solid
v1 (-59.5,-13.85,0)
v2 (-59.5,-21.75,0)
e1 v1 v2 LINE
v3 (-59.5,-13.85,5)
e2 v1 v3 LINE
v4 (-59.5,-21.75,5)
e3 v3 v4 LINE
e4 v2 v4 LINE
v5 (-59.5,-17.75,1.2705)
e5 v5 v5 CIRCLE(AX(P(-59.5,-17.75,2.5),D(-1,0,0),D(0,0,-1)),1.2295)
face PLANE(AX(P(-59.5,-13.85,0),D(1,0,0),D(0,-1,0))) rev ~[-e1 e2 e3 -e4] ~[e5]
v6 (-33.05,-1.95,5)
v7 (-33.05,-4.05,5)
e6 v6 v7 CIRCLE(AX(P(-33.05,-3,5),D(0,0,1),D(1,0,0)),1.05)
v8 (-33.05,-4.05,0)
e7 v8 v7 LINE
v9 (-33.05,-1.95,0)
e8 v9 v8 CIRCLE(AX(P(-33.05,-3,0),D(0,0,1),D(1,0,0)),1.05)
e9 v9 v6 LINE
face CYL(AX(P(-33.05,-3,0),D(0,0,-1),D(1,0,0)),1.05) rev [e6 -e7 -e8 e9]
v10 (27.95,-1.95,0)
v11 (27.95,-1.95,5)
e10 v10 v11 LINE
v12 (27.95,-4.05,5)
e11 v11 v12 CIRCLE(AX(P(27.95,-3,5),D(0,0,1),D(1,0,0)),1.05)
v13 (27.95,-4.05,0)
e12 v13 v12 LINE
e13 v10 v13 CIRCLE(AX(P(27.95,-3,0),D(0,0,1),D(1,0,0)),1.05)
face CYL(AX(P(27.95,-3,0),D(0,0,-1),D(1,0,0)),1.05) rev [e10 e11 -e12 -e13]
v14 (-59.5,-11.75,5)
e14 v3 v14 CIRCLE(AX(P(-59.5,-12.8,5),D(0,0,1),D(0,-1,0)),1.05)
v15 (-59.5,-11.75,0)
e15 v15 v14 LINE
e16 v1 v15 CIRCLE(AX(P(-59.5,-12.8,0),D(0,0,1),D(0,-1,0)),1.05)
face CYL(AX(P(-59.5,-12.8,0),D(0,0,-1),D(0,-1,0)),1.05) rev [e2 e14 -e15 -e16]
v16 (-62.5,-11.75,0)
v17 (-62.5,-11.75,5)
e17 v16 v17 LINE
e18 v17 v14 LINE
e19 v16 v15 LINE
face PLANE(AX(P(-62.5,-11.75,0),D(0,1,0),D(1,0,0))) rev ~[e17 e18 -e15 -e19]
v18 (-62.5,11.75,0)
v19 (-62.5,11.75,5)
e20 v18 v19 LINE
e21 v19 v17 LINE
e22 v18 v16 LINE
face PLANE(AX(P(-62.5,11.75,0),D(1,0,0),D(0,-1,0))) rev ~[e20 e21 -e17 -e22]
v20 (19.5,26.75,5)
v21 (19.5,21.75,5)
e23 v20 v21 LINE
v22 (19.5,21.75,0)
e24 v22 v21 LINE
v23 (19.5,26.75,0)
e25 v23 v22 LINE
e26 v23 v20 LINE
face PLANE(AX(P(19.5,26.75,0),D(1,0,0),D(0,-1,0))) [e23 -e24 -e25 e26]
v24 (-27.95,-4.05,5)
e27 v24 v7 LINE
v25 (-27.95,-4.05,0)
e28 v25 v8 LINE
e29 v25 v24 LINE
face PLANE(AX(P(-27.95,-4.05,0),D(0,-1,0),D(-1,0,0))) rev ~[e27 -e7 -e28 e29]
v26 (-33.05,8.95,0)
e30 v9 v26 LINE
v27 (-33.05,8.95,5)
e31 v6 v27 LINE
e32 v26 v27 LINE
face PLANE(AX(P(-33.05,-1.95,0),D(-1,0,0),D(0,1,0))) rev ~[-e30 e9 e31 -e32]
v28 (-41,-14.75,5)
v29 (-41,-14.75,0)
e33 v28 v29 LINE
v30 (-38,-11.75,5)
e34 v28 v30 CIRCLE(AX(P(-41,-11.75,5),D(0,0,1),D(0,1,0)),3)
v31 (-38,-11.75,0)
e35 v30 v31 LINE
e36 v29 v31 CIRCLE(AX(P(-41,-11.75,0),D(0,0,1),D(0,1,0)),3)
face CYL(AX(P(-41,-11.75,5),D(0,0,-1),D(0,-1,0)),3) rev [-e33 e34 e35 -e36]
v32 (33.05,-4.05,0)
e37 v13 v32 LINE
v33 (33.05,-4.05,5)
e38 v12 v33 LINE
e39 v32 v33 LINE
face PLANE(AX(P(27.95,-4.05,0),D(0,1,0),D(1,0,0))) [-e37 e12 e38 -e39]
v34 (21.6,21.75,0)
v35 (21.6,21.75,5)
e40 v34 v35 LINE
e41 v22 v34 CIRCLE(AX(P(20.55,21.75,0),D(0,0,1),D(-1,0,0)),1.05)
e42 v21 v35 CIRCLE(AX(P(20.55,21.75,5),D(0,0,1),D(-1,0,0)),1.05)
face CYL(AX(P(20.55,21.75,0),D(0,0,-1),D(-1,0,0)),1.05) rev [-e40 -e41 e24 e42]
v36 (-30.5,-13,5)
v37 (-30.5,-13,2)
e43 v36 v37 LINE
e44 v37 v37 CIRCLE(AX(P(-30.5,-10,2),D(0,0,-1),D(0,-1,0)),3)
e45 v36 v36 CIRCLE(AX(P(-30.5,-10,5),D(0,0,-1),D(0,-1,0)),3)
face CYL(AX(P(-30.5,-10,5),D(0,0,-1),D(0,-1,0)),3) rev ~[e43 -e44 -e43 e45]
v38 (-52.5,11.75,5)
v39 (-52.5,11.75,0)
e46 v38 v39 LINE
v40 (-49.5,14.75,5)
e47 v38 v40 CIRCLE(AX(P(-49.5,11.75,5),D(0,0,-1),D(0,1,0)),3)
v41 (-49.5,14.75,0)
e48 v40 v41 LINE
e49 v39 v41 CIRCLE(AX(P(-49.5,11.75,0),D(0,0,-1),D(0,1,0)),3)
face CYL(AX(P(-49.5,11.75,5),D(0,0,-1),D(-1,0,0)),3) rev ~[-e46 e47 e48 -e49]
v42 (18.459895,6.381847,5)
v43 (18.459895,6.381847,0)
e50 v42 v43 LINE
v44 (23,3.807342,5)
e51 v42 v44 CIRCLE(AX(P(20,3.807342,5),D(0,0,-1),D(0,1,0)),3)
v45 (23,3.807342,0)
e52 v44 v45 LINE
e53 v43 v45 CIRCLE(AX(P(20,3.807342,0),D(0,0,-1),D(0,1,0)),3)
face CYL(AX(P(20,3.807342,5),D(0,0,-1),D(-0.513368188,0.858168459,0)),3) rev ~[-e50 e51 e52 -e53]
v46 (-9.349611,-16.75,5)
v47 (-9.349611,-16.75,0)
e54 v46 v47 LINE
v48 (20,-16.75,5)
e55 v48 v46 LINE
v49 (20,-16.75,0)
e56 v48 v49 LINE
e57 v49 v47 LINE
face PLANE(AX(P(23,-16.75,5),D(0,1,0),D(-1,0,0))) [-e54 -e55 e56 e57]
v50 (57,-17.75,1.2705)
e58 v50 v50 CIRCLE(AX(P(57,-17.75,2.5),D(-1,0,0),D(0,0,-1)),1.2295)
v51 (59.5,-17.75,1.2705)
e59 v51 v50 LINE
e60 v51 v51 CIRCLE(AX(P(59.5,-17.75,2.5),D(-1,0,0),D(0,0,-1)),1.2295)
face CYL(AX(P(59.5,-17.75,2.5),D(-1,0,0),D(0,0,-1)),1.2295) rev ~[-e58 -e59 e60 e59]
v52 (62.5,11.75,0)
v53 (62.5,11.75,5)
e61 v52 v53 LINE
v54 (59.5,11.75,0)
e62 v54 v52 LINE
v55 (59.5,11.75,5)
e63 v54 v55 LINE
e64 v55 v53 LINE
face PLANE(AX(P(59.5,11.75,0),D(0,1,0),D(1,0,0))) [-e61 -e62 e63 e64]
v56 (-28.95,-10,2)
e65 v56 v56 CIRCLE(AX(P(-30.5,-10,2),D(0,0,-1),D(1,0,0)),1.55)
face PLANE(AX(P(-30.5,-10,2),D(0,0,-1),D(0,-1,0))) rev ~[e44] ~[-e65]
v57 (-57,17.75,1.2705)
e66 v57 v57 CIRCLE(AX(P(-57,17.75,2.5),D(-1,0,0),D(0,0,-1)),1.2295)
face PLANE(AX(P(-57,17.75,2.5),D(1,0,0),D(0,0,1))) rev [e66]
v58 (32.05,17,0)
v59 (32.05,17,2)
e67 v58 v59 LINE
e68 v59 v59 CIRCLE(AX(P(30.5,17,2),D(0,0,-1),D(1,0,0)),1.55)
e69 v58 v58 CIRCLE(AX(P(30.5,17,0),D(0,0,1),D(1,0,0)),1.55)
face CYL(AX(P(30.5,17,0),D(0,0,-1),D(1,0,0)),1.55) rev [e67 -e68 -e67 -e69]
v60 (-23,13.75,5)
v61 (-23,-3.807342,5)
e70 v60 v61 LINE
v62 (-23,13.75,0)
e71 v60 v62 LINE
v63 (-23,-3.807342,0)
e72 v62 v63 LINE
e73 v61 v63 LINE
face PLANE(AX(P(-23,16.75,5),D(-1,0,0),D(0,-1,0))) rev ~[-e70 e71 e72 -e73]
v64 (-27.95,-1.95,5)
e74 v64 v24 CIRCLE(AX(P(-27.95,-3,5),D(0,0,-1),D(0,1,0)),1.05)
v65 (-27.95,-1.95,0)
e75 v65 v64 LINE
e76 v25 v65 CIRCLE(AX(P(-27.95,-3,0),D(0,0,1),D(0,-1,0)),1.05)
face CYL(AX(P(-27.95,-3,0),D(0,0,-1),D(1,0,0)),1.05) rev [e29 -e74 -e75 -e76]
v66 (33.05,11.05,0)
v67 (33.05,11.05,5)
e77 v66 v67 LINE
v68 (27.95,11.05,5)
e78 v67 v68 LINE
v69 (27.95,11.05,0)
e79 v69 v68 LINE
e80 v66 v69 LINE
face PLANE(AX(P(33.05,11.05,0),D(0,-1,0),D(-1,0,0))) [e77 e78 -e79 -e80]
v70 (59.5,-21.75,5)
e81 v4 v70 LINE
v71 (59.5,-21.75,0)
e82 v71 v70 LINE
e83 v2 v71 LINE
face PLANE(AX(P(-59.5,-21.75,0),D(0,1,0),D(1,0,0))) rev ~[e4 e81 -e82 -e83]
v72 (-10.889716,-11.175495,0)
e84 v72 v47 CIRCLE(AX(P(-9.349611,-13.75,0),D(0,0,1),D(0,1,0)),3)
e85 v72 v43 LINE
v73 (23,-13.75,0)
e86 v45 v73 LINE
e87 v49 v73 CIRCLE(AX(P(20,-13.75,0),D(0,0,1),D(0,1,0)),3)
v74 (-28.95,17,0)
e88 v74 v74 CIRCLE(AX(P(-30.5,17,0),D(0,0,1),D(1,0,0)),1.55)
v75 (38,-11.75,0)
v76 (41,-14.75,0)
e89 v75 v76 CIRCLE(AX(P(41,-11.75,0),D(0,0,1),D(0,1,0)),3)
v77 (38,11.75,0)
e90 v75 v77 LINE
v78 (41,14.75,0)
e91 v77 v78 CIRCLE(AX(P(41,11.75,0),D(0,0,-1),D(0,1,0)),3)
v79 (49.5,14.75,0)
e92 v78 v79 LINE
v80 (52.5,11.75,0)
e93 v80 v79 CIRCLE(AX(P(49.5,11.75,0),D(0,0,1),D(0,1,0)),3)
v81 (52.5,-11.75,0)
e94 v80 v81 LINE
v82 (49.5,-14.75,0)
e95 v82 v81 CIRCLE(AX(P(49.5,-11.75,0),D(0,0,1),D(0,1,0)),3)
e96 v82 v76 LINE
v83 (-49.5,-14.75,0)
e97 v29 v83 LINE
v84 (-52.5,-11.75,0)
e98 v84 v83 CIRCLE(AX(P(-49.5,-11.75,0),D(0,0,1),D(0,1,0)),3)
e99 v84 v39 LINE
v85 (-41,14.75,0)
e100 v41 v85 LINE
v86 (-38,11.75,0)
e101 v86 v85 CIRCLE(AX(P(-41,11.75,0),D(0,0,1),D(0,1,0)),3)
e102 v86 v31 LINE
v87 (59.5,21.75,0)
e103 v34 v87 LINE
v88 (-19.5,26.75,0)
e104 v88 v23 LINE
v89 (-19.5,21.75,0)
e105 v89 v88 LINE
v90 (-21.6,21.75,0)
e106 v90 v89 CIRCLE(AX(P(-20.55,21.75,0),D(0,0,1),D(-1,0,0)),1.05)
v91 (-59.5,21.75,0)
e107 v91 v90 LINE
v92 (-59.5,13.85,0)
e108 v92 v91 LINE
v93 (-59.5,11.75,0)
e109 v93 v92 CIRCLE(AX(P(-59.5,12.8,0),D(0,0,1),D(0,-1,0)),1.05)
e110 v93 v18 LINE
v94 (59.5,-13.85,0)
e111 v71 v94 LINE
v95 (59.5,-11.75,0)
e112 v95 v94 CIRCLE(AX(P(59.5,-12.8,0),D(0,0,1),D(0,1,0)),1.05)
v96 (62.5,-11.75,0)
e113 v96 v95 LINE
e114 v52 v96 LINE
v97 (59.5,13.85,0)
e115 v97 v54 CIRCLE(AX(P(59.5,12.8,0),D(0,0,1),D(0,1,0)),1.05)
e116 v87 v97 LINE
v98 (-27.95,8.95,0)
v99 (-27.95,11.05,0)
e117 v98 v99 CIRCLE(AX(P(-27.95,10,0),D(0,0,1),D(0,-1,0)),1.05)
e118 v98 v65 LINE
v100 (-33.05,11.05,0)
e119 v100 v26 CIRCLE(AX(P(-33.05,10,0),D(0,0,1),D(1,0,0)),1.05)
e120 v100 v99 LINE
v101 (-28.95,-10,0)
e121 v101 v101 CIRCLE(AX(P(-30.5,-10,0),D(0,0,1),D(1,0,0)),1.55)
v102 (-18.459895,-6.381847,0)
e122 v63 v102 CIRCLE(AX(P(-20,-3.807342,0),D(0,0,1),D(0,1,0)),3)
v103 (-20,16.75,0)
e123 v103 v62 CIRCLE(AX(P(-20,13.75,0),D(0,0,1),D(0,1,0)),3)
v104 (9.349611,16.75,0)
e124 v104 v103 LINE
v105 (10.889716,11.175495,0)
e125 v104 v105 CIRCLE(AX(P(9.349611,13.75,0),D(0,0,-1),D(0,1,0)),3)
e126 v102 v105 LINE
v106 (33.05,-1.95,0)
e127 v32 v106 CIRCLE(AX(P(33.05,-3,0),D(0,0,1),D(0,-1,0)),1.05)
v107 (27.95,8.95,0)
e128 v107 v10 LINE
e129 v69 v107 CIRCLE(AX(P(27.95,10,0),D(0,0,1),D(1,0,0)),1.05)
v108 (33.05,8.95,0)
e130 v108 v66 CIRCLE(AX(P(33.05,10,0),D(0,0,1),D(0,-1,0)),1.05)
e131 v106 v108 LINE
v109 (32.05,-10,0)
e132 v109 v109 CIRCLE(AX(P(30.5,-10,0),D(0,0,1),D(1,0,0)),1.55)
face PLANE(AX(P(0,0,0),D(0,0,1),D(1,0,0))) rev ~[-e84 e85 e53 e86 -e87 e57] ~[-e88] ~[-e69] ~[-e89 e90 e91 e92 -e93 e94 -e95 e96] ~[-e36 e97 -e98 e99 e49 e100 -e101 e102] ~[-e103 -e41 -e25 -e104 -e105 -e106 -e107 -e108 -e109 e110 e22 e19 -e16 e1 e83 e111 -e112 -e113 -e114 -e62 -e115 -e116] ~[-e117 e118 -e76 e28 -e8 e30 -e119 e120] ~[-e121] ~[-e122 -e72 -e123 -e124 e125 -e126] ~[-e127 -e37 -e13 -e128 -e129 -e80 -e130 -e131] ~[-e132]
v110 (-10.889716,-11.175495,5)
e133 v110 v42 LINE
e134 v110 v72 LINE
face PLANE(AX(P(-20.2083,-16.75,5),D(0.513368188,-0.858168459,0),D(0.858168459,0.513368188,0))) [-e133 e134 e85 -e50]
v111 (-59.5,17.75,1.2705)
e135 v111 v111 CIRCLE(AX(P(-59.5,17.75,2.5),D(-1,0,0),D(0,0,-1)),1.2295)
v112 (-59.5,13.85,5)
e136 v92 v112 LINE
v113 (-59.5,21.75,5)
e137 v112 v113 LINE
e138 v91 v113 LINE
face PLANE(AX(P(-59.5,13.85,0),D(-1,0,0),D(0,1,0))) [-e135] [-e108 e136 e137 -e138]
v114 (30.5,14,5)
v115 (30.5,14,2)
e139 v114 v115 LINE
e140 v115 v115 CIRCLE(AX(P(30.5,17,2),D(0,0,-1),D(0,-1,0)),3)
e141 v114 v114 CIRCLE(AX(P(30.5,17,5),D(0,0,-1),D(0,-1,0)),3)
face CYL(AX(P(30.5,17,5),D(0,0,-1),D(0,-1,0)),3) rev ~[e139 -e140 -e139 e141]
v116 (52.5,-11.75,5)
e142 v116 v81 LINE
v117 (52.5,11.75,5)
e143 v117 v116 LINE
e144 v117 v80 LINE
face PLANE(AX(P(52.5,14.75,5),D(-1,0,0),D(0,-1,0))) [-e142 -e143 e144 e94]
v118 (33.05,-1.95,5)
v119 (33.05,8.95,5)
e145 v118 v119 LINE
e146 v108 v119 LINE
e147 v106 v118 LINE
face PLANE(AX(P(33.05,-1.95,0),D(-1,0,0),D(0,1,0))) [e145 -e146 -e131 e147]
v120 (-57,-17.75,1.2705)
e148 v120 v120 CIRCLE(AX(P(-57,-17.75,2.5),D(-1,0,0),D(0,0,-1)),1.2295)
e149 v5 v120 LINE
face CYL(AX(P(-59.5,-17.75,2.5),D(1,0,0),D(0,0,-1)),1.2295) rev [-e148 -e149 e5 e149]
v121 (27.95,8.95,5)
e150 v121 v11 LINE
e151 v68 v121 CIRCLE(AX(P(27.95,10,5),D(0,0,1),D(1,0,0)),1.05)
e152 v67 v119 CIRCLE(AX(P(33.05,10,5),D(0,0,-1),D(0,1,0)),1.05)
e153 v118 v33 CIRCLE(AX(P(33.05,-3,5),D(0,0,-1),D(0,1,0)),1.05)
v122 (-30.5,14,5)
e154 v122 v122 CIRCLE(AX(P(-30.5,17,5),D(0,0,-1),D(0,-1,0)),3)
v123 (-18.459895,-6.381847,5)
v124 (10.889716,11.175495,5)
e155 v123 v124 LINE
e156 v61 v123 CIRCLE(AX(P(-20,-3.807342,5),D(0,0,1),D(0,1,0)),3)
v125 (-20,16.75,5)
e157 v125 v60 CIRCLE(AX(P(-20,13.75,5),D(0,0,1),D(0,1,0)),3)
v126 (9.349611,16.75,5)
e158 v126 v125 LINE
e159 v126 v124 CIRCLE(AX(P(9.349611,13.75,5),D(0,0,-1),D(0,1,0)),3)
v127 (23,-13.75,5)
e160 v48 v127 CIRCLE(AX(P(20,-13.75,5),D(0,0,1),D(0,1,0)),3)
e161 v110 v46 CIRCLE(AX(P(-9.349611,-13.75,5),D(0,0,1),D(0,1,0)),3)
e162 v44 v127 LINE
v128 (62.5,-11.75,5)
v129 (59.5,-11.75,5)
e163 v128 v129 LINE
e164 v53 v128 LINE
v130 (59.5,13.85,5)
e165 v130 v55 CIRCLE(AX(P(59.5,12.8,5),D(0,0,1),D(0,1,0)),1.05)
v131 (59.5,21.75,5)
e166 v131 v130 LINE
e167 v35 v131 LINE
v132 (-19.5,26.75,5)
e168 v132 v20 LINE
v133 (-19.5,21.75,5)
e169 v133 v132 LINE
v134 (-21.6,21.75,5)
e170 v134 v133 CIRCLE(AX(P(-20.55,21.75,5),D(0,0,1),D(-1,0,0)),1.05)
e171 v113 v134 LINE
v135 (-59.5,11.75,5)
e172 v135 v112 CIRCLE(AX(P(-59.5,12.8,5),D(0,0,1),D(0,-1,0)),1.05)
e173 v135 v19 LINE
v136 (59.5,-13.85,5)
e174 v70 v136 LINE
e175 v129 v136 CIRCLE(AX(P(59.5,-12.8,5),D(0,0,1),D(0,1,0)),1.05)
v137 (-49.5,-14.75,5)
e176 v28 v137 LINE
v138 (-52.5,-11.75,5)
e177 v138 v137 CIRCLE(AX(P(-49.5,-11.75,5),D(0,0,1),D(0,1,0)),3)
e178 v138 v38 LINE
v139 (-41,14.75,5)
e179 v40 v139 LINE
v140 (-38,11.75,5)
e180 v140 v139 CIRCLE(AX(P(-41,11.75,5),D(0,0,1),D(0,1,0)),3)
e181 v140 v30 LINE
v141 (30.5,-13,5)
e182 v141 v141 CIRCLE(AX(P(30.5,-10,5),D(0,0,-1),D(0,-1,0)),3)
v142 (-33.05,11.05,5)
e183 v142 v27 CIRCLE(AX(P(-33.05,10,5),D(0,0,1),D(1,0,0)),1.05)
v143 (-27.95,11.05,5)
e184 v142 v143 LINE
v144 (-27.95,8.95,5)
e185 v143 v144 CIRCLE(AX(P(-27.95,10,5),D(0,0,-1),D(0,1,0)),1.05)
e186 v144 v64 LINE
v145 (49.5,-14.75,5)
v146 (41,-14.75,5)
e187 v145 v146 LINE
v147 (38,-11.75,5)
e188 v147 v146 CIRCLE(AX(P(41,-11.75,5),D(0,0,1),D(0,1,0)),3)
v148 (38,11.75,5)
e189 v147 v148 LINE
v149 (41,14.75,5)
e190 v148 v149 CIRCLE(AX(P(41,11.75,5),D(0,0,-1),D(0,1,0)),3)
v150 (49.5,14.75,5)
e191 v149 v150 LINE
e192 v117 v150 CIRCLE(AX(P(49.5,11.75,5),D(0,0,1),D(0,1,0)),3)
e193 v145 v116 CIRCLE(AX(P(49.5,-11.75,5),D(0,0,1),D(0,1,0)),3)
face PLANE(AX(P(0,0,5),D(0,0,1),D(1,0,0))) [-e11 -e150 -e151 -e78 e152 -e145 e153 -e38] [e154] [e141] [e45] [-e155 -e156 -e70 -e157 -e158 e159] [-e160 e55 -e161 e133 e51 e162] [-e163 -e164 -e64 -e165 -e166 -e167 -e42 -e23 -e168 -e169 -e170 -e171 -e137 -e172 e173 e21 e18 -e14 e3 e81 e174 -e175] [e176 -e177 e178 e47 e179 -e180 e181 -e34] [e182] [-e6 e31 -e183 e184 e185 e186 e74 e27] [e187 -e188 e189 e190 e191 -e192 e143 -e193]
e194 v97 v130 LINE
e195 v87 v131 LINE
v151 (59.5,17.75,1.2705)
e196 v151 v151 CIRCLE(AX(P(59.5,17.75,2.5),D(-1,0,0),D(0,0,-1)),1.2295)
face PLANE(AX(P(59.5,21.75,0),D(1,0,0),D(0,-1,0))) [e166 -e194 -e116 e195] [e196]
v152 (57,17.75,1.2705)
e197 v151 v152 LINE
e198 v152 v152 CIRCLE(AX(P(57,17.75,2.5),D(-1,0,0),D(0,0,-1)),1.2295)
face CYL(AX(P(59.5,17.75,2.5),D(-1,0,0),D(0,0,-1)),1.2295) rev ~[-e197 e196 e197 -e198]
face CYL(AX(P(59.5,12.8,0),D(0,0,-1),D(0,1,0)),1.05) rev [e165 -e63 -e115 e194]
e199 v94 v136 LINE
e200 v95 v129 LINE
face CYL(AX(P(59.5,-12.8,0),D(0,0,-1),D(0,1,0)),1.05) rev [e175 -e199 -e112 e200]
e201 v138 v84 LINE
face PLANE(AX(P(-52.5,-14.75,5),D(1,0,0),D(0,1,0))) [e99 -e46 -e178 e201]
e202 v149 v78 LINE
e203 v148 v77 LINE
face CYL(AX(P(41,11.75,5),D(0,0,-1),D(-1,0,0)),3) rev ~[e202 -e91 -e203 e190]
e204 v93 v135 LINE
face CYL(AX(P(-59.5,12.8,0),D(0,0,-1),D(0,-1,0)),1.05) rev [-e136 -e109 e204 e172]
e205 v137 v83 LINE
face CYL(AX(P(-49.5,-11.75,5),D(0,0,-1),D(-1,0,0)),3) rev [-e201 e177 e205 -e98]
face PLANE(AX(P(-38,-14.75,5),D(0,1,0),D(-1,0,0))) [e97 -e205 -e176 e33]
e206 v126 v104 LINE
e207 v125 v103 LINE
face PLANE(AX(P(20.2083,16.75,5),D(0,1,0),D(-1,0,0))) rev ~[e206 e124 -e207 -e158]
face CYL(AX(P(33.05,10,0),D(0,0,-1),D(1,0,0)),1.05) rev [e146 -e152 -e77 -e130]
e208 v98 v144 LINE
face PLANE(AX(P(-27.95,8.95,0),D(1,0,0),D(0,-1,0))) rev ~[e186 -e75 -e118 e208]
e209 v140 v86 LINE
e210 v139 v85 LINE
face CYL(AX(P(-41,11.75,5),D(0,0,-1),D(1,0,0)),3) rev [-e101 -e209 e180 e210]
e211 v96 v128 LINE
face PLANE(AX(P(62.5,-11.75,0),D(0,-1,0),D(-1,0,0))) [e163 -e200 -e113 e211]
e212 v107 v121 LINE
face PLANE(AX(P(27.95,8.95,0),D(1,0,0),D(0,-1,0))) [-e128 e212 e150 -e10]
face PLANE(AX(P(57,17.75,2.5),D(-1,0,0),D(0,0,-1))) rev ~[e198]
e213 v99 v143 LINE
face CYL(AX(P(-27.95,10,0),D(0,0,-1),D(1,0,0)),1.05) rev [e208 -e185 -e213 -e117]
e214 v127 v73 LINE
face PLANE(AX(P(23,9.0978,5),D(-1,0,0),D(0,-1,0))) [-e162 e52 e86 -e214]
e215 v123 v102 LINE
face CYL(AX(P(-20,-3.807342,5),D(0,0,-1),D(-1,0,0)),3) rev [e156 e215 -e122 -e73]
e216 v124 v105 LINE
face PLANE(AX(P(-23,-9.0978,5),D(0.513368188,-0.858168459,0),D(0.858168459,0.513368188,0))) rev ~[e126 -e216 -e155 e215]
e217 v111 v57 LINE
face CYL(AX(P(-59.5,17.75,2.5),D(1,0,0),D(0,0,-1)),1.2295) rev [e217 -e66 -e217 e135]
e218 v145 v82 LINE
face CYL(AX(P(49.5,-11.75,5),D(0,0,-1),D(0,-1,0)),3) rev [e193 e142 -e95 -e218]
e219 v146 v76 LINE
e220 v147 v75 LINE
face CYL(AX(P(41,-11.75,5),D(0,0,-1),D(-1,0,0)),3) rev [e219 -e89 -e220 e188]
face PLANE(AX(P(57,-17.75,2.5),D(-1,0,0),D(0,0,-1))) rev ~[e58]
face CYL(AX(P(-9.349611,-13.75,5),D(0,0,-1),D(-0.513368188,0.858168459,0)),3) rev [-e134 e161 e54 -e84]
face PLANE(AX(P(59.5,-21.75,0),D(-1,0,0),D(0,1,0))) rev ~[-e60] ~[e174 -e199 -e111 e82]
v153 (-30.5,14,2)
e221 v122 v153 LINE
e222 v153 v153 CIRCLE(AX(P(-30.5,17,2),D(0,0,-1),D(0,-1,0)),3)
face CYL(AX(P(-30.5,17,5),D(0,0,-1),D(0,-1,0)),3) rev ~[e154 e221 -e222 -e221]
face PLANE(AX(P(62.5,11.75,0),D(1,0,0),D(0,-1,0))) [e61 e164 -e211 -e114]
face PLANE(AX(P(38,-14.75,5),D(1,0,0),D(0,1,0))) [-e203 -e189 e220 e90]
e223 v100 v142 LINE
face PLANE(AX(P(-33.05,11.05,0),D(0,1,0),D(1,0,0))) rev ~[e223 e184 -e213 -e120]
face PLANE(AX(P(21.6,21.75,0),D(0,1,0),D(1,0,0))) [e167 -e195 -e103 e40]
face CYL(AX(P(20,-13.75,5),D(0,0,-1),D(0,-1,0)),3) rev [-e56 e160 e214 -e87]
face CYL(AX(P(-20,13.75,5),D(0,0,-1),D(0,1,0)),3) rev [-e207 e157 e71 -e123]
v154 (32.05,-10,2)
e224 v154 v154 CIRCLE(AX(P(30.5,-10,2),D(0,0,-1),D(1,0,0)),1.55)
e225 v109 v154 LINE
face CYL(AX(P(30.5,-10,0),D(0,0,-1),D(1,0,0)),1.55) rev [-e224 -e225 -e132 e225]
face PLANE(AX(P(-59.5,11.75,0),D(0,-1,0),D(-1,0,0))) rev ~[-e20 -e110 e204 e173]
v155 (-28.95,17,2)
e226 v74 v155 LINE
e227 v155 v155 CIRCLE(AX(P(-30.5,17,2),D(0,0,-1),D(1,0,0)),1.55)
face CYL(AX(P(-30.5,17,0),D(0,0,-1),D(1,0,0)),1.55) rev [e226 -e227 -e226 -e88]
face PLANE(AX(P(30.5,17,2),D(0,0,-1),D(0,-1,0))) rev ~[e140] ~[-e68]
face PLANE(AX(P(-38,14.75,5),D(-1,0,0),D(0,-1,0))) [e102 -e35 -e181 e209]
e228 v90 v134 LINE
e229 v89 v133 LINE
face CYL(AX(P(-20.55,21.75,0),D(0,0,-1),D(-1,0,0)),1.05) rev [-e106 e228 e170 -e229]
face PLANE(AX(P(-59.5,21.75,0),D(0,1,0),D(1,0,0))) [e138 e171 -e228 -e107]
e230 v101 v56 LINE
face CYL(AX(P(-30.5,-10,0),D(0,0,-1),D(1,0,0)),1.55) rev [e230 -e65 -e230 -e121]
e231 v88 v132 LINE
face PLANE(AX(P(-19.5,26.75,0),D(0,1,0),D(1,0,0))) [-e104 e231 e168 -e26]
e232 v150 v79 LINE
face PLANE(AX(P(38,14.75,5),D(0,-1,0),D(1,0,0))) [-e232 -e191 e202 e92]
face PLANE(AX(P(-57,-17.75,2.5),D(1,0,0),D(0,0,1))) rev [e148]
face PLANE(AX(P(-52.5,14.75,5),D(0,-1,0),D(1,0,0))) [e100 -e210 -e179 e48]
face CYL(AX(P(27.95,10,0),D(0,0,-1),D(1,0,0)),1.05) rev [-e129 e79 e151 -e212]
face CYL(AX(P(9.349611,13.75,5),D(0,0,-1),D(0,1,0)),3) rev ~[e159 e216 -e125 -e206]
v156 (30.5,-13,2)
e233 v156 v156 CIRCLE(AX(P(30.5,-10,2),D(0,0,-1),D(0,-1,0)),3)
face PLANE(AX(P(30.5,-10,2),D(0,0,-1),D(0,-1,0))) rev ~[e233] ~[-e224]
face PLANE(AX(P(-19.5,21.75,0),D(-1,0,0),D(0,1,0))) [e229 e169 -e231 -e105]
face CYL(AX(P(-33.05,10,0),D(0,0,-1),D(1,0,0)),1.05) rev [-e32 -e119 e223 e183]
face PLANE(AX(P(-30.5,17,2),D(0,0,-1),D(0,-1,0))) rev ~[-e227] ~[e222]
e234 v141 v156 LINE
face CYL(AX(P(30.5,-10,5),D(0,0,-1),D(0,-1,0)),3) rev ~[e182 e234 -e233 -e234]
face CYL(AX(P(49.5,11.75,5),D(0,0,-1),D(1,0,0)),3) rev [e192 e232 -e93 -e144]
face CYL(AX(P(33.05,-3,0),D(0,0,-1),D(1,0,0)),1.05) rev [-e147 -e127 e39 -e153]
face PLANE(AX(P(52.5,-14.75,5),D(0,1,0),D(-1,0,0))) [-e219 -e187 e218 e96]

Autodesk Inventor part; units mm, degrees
ref_plane "YZ Plane" through (0, 0, 0) normal (1, 0, 0) x (0, 1, 0)
ref_plane "XZ Plane" through (0, 0, 0) normal (0, 1, 0) x (-1, 0, 0)
ref_plane "XY Plane" through (0, 0, 0) normal (0, 0, 1) x (1, 0, 0)
sketch "スケッチ1" plane through (0, 0, 0) normal (0, 0, 1) x (1, 0, 0)
  line L0 (-59.5, -21.75) -> (59.5, -21.75) construction
  line L1 (59.5, -21.75) -> (59.5, 21.75) construction
  line L2 (59.5, 21.75) -> (-59.5, 21.75) construction
  line L3 (-59.5, 21.75) -> (-59.5, -21.75) construction
  line L4 (-59.5, -21.75) -> (59.5, 21.75) construction
  line L5 (59.5, -21.75) -> (-59.5, 21.75) construction
  line L6 (-54.5, -16.75) -> (54.5, -16.75) construction
  line L7 (54.5, -16.75) -> (54.5, 16.75) construction
  line L8 (54.5, 16.75) -> (-54.5, 16.75) construction
  line L9 (-54.5, 16.75) -> (-54.5, -16.75) construction
  line L10 (-54.5, -16.75) -> (54.5, 16.75) construction
  line L11 (54.5, -16.75) -> (-54.5, 16.75) construction
  line L12 (-33.05, 11.05) -> (-27.95, 11.05)
  line L13 (-27.95, 11.05) -> (-27.95, -4.05)
  line L14 (-27.95, -4.05) -> (-33.05, -4.05)
  line L15 (-33.05, -4.05) -> (-33.05, 11.05)
  line L16 (-28, 11) -> (-33, 11) construction
  line L17 (-33, 11) -> (-33, -4) construction
  line L18 (-33, -4) -> (-28, -4) construction
  line L19 (-28, -4) -> (-28, 11) construction
  line L20 (-30.5, 11) -> (-30.5, -4) construction
  line L21 (-33, 21) -> (-28, 21) construction
  line L22 (-28, 21) -> (-28, -14) construction
  line L23 (-28, -14) -> (-33, -14) construction
  line L24 (-33, -14) -> (-33, 21) construction
  circle A0 centre (-30.5, 17) radius 1.55
  circle A1 centre (-30.5, -10) radius 1.55
  circle A2 centre (-33.05, 10) radius 1.05
  circle A3 centre (-27.95, 10) radius 1.05
  circle A4 centre (-33.05, -3) radius 1.05
  circle A5 centre (-27.95, -3) radius 1.05
  line L25 (0, 0) -> (0, 16.75) construction
  line L26 (0, 0) -> (54.5, 0) construction
  circle A6 centre (30.5, 17) radius 1.55
  circle A7 centre (30.5, -10) radius 1.55
  circle A8 centre (27.95, 10) radius 1.05
  circle A9 centre (33.05, 10) radius 1.05
  circle A10 centre (27.95, -3) radius 1.05
  circle A11 centre (33.05, -3) radius 1.05
  line L27 (33.05, 11.05) -> (27.95, 11.05)
  line L28 (27.95, 11.05) -> (27.95, -4.05)
  line L29 (27.95, -4.05) -> (33.05, -4.05)
  line L30 (33.05, -4.05) -> (33.05, 11.05)
  line L31 (-59.5, 11.75) -> (-62.5, 11.75)
  line L32 (-62.5, 11.75) -> (-62.5, -11.75)
  line L33 (-62.5, -11.75) -> (-59.5, -11.75)
  line L34 (-59.5, 13.85) -> (-59.5, 21.75)
  line L35 (-59.5, 21.75) -> (-21.6, 21.75)
  line L36 (-19.5, 21.75) -> (-19.5, 26.75)
  line L37 (-19.5, 26.75) -> (19.5, 26.75)
  line L38 (19.5, 26.75) -> (19.5, 21.75)
  line L39 (21.6, 21.75) -> (59.5, 21.75)
  line L40 (59.5, 21.75) -> (59.5, 13.85)
  line L41 (59.5, 11.75) -> (62.5, 11.75)
  line L42 (62.5, 11.75) -> (62.5, -11.75)
  line L43 (62.5, -11.75) -> (59.5, -11.75)
  line L44 (-59.5, -13.85) -> (-59.5, -21.75)
  line L45 (-59.5, -21.75) -> (59.5, -21.75)
  line L46 (59.5, -21.75) -> (59.5, -13.85)
  arc A12 (-59.5, 11.75) -> (-59.5, 13.85) centre (-59.5, 12.8) ccw
  arc A13 (-59.5, -13.85) -> (-59.5, -11.75) centre (-59.5, -12.8) ccw
  line L47 (0, 0) -> (-54.5, 0) construction
  arc A14 (59.5, -11.75) -> (59.5, -13.85) centre (59.5, -12.8) ccw
  arc A15 (59.5, 13.85) -> (59.5, 11.75) centre (59.5, 12.8) ccw
  arc A16 (-21.6, 21.75) -> (-19.5, 21.75) centre (-20.55, 21.75) ccw
  arc A17 (19.5, 21.75) -> (21.6, 21.75) centre (20.55, 21.75) ccw
  line L48 (-56.8855, 19.3) -> (-54.5, 19.3) construction
  line L49 (-54.5, 19.3) -> (-54.5, 16.2) construction
  line L50 (-54.5, 16.2) -> (-56.8855, 16.2) construction
  line L51 (-56.8855, 16.2) -> (-56.8855, 19.3) construction
  line L52 (-54.5, 17.75) -> (-56.8855, 17.75) construction
  line L53 (-53.05, 22.7202) -> (-49.95, 22.7202) construction
  line L54 (-49.95, 22.7202) -> (-49.95, 16.75) construction
  line L55 (-49.95, 16.75) -> (-53.05, 16.75) construction
  line L56 (-53.05, 16.75) -> (-53.05, 22.7202) construction
  line L57 (-51.5, 22.7202) -> (-51.5, 16.75) construction
  point P0 (-30.5, -14)
  dimension "d10" = 2.1
  dimension "d0" = 33.5
  dimension "d1" = 5
  dimension "d2" = 109
  dimension "d3" = 5
  dimension "d4" = 0.05
  dimension "d5" = 35
  dimension "d6" = 27
  dimension "d7" = 5
  dimension "d11" = 33
  dimension "d12" = 3.1
  dimension "d13" = 1.05
  dimension "d14" = 3
  dimension "d15" = 4
  dimension "d16" = 3.1
  dimension "d17" = 10
  dimension "d18" = 5
  dimension "d19" = 8
  dimension "d20" = 5
  dimension "d21" = 40
  dimension "d22" = 5
  dimension "d50" = 4
  dimension "d51" = 10
  dimension "d52" = 17
  dimension "d53" = 10
extrude "押し出し1" add sketch "スケッチ1" along normal blind 5
sketch "スケッチ2" plane through (0, 0, 5) normal (0, 0, 1) x (1, 0, 0)
  circle A0 centre (30.5, -10) radius 1.55 projected
  circle A1 centre (30.5, 17) radius 1.55 projected
  circle A2 centre (-30.5, -10) radius 1.55 projected
  circle A3 centre (-30.5, 17) radius 1.55 projected
  point P0 (0, 0)
hole "穴1" at (-30.5, 17, 5) at (-30.5, -10, 5) at (30.5, 17, 5) at (30.5, -10, 5) direction (0, 0, -1) diameter 6 depth 3
sketch "スケッチ3" plane through (59.5, -21.75, 0) normal (1, 0, 0) x (0, 0, -1)
  line L0 (0, 0) -> (-5, 0) projected
  line L1 (0, 43.5) -> (-5, 43.5) projected
  point P0 (0, 21.75)
  point P1 (-2.5, 4)
  point P2 (-2.5, 39.5)
  point P3 (-2.5, 0)
  dimension "d32" = 4
  dimension "d33" = 4
hole "穴2" at (59.5, -17.75, 2.5) at (59.5, 17.75, 2.5) direction (-1, 0, 0) diameter 2.459 depth 2.5 thread size "M3x0.5" class "6H" standard "ISO Metric profile"
mirror "ミラー1" about plane through (0, 0, 0) normal (1, 0, 0) of "穴2"
sketch "スケッチ5" plane through (0, 0, 5) normal (0, 0, 1) x (1, 0, 0)
  line L0 (27.95, -1.95) -> (27.95, 8.95) projected
  line L1 (-33.05, -1.95) -> (-33.05, 8.95) projected
  line L2 (-27.95, 8.95) -> (-27.95, -1.95) projected
  line L3 (-59.5, -21.75) -> (59.5, -21.75) projected
  line L4 (19.5, 26.75) -> (-19.5, 26.75) projected
  line L5 (-21.6, 21.75) -> (-59.5, 21.75) projected
  line L6 (-59.5, 21.75) -> (-59.5, 13.85) projected
  line L7 (-52.5, 14.75) -> (-38, 14.75)
  line L8 (-38, 14.75) -> (-38, -14.75)
  line L9 (-38, -14.75) -> (-52.5, -14.75)
  line L10 (-52.5, -14.75) -> (-52.5, 14.75)
  line L11 (38, 14.75) -> (52.5, 14.75)
  line L12 (52.5, 14.75) -> (52.5, -14.75)
  line L13 (52.5, -14.75) -> (38, -14.75)
  line L14 (38, -14.75) -> (38, 14.75)
  line L15 (-23, 16.75) -> (-23, -9.0978)
  line L16 (-23, -9.0978) -> (20.2083, 16.75)
  line L17 (20.2083, 16.75) -> (-23, 16.75)
  line L18 (23, 9.0978) -> (23, -16.75)
  line L19 (23, -16.75) -> (-20.2083, -16.75)
  line L20 (-20.2083, -16.75) -> (23, 9.0978)
  line L21 (-33, 9.2736) -> (-28, 9.2736) construction
  line L22 (-28, 9.2736) -> (-28, -5.1442) construction
  line L23 (-28, -5.1442) -> (-33, -5.1442) construction
  line L24 (-33, -5.1442) -> (-33, 9.2736) construction
  line L25 (0, 0) -> (0, 26.75) construction
  line L26 (28, 10.3975) -> (29.3974, 10.3975) construction
  line L27 (29.3974, 10.3975) -> (29.3974, -4.5864) construction
  line L28 (29.3974, -4.5864) -> (28, -4.5864) construction
  line L29 (28, -4.5864) -> (28, 10.3975) construction
  line L30 (28, 16.75) -> (-28, -16.75) construction
  line L31 (-28, 16.75) -> (28, 16.75) construction
  line L32 (28, 16.75) -> (28, -16.75) construction
  line L33 (28, -16.75) -> (-28, -16.75) construction
  line L34 (-28, -16.75) -> (-28, 16.75) construction
  line L35 (59.5, 21.75) -> (21.6, 21.75) projected
  dimension "d54" = 7
  dimension "d55" = 7
  dimension "d56" = 7
  dimension "d57" = 0.05
  dimension "d58" = 5
  dimension "d59" = 0.05
  dimension "d60" = 5
  dimension "d62" = 5
  dimension "d63" = 0.05
  dimension "d64" = 8
  dimension "d68" = 5
extrude "押し出し2" cut sketch "スケッチ5" against normal blind 10
fillet "フィレット1" radius 3 14 edges at (-38, 14.75, 2.5) (-52.5, 14.75, 2.5) (-52.5, -14.75, 2.5) (-38, -14.75, 2.5) (-23, -9.0978, 2.5) (-23, 16.75, 2.5) (20.2083, 16.75, 2.5) (23, 9.0978, 2.5) (-20.2083, -16.75, 2.5) (23, -16.75, 2.5) (38, -14.75, 2.5) (52.5, -14.75, 2.5) (52.5, 14.75, 2.5) (38, 14.75, 2.5)
equation "\"d20\" = d18"
equation "\"d53\" = d51"
equation "\"d32\" = d15"
equation "\"d33\" = d32"
equation "\"d56\" = d55"
equation "\"d59\" = d57"
equation "\"d60\" = d58"
properties part number "コックピット_サブフレーム_1_3" material "アセタール樹脂、黒"
